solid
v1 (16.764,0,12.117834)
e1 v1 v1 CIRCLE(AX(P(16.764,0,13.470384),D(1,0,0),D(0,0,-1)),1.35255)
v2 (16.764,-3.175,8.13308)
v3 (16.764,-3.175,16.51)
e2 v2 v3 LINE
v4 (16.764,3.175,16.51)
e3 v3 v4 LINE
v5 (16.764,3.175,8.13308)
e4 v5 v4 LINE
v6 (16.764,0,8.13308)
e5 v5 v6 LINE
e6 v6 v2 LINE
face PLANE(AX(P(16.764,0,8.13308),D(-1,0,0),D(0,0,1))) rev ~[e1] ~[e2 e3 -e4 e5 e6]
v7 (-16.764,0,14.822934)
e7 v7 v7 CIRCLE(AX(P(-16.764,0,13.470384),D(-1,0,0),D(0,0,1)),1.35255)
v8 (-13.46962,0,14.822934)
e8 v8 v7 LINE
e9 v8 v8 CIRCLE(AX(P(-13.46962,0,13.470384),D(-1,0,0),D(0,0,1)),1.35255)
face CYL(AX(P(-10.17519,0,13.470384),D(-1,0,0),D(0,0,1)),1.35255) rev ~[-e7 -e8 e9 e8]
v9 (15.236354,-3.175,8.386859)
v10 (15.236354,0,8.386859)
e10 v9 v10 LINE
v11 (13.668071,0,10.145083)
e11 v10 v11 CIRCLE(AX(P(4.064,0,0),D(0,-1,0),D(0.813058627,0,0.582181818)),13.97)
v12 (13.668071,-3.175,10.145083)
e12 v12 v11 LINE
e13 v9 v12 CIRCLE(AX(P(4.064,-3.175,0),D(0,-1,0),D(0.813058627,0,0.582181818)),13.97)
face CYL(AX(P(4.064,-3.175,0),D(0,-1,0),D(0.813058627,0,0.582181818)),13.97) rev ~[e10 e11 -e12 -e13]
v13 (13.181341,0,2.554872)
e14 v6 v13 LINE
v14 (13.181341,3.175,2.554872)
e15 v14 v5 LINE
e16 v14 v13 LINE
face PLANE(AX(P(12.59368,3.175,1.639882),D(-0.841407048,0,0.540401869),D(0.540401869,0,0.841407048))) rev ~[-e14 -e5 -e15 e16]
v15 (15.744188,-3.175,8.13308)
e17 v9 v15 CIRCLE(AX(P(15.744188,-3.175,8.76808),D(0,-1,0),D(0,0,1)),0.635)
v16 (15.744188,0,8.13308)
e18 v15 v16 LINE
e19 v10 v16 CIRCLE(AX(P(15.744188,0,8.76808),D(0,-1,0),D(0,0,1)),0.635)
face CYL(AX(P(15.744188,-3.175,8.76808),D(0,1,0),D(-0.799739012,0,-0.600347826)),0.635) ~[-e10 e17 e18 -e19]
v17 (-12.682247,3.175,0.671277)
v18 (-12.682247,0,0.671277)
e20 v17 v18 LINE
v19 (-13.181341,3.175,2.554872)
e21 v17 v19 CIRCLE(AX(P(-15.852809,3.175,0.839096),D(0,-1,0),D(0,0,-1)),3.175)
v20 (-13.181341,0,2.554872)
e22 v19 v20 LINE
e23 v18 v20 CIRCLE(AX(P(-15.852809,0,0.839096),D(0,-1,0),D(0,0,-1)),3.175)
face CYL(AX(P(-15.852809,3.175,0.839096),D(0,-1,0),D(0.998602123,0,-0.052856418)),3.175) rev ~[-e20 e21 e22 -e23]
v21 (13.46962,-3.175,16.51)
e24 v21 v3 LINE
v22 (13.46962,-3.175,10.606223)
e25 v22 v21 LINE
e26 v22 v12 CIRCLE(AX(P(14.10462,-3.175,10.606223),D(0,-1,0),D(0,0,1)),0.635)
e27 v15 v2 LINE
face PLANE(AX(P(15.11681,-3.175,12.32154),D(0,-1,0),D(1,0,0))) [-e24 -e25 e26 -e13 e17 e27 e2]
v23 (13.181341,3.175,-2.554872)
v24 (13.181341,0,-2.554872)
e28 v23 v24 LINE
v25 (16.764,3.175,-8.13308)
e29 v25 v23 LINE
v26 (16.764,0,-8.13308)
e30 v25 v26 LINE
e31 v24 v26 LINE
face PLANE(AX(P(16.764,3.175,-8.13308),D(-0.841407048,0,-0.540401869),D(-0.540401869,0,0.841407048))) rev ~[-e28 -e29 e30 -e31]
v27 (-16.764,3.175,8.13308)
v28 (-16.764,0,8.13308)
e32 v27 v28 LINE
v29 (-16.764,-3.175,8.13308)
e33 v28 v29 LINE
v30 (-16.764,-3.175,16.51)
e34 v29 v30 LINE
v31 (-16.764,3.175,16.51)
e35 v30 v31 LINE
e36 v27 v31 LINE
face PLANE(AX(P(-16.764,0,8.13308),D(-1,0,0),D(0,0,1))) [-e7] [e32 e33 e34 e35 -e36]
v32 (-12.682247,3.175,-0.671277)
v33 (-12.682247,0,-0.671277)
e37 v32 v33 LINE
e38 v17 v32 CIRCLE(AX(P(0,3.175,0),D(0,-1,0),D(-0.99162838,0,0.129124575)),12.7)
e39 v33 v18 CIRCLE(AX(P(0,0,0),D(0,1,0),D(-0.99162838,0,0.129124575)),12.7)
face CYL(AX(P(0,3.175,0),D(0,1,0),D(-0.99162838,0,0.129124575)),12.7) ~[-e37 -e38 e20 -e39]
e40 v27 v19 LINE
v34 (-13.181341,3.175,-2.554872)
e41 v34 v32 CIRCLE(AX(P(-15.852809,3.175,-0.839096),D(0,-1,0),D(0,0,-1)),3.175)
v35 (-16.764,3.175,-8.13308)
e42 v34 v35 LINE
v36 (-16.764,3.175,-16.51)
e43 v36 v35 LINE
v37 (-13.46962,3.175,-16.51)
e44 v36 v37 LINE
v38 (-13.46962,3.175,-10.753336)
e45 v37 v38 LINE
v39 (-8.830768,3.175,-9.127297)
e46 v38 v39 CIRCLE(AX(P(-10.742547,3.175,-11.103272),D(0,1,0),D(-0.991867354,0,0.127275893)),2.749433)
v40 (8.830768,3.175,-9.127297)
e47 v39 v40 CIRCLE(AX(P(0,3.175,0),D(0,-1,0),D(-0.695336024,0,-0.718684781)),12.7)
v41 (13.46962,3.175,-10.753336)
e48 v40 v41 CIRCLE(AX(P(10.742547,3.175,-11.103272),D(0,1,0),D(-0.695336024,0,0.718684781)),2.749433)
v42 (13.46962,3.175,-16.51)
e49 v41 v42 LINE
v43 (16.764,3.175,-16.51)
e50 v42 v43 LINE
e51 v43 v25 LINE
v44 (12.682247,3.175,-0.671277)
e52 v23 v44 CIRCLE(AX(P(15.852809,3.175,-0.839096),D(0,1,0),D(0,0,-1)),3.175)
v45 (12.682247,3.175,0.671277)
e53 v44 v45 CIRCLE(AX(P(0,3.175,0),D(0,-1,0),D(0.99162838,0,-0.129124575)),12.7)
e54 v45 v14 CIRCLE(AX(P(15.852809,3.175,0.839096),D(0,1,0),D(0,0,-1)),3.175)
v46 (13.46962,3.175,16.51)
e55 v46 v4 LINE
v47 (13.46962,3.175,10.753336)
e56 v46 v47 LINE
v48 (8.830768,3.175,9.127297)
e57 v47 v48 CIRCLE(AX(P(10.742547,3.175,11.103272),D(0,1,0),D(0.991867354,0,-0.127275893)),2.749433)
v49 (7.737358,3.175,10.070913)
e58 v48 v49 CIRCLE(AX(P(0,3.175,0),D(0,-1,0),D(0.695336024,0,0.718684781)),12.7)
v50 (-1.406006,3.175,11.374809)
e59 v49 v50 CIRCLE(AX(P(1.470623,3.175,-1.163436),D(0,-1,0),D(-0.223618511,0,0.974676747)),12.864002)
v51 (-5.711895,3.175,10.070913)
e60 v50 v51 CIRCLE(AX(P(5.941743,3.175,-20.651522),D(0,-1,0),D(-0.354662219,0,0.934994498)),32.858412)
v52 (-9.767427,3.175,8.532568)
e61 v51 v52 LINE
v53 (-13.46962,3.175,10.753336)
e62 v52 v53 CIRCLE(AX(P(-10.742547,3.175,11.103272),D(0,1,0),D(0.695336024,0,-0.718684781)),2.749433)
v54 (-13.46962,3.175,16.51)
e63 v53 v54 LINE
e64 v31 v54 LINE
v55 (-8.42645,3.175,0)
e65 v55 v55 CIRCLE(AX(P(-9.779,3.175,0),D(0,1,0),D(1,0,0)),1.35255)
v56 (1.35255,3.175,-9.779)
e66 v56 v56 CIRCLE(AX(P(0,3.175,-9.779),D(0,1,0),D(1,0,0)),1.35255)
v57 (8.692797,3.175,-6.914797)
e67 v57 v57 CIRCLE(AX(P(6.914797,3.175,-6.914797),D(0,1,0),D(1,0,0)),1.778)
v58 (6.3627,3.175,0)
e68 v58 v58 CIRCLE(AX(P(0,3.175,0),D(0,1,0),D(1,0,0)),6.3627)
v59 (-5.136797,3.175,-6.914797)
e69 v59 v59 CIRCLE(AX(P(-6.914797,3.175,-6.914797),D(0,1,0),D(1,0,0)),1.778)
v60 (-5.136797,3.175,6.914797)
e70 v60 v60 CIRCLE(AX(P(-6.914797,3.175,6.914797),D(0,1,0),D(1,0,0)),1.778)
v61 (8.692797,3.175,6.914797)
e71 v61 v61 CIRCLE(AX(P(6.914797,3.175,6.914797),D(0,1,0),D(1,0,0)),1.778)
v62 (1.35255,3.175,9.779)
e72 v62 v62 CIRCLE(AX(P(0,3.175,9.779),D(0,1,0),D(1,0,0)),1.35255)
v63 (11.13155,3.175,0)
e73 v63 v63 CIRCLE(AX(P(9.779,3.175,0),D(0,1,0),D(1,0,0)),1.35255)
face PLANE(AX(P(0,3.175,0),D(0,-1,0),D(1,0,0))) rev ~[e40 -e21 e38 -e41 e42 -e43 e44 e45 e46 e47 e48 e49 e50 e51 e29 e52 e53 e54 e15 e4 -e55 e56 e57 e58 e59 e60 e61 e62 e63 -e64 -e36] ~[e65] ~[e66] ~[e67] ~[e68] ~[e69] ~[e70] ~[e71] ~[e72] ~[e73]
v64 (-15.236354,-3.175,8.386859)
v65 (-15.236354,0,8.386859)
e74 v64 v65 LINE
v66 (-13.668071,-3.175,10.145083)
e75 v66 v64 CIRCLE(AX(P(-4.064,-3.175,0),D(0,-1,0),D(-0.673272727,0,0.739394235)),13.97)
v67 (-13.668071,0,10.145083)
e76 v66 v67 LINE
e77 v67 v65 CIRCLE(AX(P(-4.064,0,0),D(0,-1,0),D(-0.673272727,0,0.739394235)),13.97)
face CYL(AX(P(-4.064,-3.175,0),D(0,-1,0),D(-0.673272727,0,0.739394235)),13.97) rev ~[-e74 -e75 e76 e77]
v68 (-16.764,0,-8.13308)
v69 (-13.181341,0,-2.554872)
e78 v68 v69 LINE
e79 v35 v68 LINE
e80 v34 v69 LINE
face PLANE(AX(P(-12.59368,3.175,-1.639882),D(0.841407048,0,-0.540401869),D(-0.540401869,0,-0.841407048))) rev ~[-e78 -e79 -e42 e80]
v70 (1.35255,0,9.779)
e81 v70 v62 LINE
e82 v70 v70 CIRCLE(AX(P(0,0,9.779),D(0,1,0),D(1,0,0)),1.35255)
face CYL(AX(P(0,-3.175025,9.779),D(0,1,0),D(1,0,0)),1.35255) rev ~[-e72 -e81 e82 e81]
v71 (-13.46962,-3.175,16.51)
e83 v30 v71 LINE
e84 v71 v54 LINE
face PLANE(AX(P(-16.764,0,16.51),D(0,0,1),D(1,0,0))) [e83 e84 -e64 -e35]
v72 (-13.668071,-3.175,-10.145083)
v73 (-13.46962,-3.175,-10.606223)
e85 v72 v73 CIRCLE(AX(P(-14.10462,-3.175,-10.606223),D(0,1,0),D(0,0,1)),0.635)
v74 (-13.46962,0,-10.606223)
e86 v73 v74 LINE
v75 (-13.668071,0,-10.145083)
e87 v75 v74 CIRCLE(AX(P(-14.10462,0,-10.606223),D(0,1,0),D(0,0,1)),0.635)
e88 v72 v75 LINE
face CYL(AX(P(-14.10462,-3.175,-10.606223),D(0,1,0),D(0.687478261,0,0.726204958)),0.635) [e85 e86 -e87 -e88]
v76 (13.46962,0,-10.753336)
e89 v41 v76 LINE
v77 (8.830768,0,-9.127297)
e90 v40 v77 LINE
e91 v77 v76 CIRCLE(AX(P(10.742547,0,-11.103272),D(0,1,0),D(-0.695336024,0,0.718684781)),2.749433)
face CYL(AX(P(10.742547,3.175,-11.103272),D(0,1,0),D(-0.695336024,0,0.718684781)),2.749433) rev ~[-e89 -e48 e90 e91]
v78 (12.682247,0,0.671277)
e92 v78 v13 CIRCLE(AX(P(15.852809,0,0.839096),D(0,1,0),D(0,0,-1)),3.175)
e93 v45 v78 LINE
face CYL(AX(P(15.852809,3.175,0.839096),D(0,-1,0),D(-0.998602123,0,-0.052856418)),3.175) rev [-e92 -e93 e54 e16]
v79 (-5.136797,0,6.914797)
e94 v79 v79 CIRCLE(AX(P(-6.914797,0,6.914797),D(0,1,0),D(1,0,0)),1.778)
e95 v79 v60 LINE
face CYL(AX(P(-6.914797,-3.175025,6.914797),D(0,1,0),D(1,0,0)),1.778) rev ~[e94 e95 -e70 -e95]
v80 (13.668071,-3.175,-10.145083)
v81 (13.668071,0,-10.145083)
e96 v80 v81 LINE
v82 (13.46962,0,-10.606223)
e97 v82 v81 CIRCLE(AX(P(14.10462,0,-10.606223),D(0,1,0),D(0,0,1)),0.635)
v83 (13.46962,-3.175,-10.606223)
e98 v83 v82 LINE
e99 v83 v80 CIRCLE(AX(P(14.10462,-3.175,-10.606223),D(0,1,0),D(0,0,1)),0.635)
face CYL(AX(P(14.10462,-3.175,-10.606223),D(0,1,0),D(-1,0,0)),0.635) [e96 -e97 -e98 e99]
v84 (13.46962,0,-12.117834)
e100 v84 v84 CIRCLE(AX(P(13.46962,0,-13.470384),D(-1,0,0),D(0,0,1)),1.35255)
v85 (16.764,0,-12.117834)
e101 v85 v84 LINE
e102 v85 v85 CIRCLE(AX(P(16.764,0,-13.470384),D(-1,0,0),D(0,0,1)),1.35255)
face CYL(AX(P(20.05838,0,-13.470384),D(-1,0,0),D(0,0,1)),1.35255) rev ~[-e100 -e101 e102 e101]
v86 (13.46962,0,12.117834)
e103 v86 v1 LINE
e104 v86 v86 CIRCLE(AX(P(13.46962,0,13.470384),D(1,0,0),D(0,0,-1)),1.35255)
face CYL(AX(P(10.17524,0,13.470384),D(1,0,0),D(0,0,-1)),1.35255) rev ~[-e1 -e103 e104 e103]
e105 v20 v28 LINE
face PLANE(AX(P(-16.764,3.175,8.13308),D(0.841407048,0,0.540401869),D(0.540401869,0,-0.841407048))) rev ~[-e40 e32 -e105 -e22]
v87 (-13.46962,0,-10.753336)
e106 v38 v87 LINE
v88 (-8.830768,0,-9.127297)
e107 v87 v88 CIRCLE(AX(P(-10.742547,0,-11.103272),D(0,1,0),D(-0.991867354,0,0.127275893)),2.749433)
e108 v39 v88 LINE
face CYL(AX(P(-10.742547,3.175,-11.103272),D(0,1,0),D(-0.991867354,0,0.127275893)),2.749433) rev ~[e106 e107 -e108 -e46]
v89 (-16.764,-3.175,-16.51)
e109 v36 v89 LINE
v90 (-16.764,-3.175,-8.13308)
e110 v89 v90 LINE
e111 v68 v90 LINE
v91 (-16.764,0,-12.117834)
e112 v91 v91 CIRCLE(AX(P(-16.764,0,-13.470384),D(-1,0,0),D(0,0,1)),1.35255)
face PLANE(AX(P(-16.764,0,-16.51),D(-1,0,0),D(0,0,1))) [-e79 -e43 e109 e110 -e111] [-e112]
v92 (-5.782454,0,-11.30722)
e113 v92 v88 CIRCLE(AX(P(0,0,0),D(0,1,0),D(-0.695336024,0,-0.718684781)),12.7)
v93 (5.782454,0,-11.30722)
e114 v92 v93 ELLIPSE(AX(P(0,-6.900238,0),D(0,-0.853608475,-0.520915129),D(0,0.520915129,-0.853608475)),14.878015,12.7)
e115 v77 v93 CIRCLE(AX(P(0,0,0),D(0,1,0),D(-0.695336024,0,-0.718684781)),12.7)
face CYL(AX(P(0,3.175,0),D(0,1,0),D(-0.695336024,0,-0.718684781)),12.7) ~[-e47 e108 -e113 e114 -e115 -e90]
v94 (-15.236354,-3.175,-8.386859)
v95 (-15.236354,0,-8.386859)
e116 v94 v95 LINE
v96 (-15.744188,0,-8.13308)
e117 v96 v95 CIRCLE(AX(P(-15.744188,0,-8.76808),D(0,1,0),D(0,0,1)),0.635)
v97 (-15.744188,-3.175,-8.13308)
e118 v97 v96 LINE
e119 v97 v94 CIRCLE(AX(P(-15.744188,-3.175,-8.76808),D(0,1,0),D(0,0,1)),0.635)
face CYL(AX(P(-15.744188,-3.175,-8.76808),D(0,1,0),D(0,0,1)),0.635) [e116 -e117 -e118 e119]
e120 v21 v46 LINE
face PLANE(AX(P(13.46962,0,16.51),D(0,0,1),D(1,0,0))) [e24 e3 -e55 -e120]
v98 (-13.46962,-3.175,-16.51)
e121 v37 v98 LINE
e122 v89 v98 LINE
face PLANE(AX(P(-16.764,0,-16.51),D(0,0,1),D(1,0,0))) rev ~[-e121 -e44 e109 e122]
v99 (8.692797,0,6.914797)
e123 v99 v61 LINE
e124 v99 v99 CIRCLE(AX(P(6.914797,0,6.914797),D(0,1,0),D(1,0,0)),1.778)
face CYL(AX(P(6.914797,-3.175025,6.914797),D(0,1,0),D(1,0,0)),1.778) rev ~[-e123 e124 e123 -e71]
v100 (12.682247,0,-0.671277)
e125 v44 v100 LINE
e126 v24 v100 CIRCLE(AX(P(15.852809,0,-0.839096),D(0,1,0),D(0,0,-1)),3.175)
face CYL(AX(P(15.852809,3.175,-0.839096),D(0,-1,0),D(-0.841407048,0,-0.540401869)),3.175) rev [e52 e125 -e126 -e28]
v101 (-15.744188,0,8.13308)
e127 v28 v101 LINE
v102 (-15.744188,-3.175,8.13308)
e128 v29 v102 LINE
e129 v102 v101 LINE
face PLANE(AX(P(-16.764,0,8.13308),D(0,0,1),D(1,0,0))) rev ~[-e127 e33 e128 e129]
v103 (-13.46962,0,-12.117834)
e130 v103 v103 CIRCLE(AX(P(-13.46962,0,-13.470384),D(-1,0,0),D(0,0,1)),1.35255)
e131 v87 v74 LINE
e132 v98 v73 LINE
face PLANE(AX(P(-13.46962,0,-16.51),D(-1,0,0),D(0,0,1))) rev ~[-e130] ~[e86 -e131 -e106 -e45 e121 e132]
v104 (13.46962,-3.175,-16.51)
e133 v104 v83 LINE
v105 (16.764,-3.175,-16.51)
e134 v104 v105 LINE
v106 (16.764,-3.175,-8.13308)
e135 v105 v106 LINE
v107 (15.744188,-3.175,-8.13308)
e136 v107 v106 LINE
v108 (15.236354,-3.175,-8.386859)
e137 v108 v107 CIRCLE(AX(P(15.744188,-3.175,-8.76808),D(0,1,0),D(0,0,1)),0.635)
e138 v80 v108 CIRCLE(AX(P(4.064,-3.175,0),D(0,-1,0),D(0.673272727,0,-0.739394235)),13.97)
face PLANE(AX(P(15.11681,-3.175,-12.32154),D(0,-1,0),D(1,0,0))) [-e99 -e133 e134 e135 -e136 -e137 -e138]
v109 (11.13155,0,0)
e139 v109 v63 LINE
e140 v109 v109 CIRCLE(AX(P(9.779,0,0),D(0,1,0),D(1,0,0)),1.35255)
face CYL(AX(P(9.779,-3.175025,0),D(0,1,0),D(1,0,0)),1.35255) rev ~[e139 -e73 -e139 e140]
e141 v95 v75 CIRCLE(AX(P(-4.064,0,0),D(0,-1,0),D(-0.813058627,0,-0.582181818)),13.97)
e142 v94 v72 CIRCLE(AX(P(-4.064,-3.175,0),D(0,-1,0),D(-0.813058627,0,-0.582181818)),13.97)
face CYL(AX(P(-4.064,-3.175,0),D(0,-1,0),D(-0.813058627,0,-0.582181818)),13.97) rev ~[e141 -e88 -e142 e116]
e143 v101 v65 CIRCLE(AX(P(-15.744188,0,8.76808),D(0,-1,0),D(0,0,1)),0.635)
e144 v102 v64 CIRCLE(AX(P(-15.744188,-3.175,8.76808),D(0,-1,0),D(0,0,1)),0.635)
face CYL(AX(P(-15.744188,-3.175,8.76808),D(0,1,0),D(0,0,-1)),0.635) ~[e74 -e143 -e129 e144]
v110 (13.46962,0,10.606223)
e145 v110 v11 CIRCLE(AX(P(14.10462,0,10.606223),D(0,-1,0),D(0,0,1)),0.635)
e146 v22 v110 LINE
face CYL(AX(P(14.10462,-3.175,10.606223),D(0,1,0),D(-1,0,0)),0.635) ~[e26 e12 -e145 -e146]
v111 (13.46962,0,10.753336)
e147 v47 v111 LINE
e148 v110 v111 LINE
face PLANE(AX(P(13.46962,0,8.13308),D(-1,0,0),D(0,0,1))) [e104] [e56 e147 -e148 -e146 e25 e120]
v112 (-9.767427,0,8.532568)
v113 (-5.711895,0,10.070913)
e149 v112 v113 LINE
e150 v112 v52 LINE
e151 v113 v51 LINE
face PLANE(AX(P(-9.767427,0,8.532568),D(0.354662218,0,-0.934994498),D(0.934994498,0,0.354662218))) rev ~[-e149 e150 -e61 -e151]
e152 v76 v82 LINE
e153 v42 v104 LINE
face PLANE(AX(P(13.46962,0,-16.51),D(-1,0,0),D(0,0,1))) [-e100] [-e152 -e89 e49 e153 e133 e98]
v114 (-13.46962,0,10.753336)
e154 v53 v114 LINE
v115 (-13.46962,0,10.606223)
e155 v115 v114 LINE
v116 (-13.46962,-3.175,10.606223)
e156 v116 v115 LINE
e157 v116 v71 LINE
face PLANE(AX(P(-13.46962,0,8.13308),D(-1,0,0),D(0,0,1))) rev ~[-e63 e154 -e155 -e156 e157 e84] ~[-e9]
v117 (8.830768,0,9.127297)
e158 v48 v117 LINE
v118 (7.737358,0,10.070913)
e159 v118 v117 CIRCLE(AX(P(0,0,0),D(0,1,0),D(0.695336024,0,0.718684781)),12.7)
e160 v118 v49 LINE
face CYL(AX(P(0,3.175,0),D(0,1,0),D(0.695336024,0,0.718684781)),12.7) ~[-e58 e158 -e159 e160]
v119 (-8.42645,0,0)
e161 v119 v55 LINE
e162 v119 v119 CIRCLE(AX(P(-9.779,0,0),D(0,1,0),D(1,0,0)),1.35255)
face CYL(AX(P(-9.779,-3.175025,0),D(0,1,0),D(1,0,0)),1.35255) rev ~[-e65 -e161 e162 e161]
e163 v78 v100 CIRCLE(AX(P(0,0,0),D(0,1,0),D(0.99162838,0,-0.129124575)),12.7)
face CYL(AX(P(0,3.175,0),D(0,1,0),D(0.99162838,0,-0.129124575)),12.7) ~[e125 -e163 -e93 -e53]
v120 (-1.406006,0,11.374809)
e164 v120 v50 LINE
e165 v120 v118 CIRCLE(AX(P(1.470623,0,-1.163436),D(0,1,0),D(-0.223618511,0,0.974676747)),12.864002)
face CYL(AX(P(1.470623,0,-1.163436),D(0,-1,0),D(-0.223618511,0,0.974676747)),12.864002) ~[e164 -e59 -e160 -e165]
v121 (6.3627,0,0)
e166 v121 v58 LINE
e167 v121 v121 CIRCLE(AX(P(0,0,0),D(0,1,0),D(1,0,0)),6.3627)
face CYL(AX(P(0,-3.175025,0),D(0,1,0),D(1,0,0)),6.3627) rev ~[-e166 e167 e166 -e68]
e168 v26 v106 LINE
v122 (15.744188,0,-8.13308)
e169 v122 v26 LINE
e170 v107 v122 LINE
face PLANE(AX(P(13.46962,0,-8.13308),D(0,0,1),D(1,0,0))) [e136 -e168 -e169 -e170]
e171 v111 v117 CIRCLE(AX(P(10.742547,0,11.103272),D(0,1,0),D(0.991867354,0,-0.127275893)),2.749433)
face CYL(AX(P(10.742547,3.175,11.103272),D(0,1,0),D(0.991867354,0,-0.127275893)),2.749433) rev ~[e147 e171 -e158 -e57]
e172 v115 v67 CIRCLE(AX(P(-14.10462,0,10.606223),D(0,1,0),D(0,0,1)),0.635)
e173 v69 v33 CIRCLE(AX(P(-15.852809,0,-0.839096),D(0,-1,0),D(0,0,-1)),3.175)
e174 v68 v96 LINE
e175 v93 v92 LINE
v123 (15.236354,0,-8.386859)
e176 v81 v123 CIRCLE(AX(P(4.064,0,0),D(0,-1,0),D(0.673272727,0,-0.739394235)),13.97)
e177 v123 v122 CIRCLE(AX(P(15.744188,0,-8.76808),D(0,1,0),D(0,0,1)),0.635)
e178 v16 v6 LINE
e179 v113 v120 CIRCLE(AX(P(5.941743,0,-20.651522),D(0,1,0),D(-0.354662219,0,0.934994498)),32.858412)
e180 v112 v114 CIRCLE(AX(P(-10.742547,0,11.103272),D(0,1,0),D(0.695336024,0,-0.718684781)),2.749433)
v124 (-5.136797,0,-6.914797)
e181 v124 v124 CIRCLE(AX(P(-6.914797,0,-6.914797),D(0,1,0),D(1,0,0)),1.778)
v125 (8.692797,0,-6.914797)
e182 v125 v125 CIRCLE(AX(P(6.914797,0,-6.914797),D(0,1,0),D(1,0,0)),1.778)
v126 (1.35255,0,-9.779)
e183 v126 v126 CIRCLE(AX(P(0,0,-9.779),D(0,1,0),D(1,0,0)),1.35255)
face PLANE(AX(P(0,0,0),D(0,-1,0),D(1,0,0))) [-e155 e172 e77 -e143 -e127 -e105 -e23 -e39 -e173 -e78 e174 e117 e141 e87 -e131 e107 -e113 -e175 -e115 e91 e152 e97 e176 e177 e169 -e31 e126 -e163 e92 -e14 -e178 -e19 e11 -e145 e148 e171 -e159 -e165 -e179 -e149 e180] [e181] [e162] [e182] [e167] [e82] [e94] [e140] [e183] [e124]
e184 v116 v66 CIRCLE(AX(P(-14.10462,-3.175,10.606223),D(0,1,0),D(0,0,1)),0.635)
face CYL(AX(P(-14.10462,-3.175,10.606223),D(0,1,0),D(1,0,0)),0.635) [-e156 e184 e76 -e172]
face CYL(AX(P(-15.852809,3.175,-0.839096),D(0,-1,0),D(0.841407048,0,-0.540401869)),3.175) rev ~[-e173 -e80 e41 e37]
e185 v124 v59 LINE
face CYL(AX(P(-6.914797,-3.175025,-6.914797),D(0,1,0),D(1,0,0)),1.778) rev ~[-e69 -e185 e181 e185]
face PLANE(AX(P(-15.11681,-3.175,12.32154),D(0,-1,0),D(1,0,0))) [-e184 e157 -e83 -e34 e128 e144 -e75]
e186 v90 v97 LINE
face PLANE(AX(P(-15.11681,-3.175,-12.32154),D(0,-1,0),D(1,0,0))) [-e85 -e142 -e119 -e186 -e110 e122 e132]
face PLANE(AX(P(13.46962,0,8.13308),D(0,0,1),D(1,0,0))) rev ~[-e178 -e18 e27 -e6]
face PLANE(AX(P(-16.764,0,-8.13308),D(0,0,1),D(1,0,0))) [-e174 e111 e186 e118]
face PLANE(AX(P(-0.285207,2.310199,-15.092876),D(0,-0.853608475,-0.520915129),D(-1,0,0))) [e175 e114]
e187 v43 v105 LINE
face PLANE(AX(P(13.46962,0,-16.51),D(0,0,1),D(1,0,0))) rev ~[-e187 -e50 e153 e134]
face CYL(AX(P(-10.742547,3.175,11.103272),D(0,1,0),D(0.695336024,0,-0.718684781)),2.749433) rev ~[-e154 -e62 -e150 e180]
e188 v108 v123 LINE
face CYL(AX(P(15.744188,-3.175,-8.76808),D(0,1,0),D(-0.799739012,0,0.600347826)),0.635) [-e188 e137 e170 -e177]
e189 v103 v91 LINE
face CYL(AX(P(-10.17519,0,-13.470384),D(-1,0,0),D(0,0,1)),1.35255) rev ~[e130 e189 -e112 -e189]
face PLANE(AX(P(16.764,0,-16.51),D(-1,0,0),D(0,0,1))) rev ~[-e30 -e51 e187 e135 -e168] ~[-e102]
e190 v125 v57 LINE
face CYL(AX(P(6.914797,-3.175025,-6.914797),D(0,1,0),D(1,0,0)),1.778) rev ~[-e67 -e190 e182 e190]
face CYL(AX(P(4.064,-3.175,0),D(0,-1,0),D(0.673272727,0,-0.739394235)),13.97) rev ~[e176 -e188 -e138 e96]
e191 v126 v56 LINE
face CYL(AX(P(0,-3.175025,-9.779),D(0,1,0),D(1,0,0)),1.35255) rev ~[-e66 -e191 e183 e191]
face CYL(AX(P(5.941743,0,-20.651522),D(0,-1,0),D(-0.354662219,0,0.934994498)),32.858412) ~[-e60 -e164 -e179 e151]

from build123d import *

# Parameters (mm, degrees)
SKETCH1_W                  = 33.528
SKETCH1_H                  = 33.02
BOSS_EXTRUDE1_DEPTH        = 3.175
CUT_EXTRUDE1_DEPTH         = 4.175
SKETCH3_W                  = 3.29438
SKETCH3_H                  = 8.37692
BOSS_EXTRUDE2_DEPTH        = 3.175
CUT_EXTRUDE2_DEPTH         = 7.35
SKETCH5_W                  = 3.29438
SKETCH5_H                  = 8.37692
BOSS_EXTRUDE3_DEPTH        = 3.175
CUT_EXTRUDE3_DEPTH         = 7.35
SKETCH7_W                  = 3.29438
SKETCH7_H                  = 8.37692
BOSS_EXTRUDE4_DEPTH        = 3.175
CUT_EXTRUDE4_DEPTH         = 7.35
SKETCH9_W                  = 3.29438
SKETCH9_H                  = 8.37692
BOSS_EXTRUDE5_DEPTH        = 3.175
CUT_EXTRUDE5_DEPTH         = 3.175
CUT_EXTRUDE6_DEPTH         = 3.175
CUT_EXTRUDE7_DEPTH         = 3.175
CUT_EXTRUDE8_DEPTH         = 3.175
HOLE1_D                    = 12.7254
HOLE1_DEPTH                = 3.175025
M2_5_CLEARANCE_HOLE1_D     = 2.7051
M2_5_CLEARANCE_HOLE1_DEPTH = 3.175025
M3_CLEARANCE_HOLE1_D       = 3.556
M3_CLEARANCE_HOLE1_DEPTH   = 3.175025
M2_5_CLEARANCE_HOLE2_D     = 2.7051
M2_5_CLEARANCE_HOLE2_DEPTH = 3.29438
M2_5_CLEARANCE_HOLE3_D     = 2.7051
M2_5_CLEARANCE_HOLE3_DEPTH = 3.29438
M2_5_CLEARANCE_HOLE4_D     = 2.7051
M2_5_CLEARANCE_HOLE4_DEPTH = 3.29443
FILLET1_R                  = 0.635
FILLET2_R                  = 3.175
CUT_EXTRUDE9_REACH         = 5.175
CUT_EXTRUDE12_REACH        = 7.42
SKETCH30_W                 = 14.449204344
SKETCH30_H                 = 9.791237154


with BuildPart() as part:
    # Sketch1 → Boss-Extrude1 (new body)
    with BuildSketch(Plane.XZ):
        Rectangle(SKETCH1_W, SKETCH1_H)
    extrude(amount=-BOSS_EXTRUDE1_DEPTH)

    # Sketch2 → Cut-Extrude1 (cut, through all)
    with BuildSketch(Plane(origin=(0, 3.175, 0), x_dir=(-1, 0, 0), z_dir=(0, 1, 0))):
        with BuildLine():
            Line((-13.46962, 16.51), (-13.46962, 10.753335779))
            ThreePointArc((-13.46962, 10.753335779), (-11.652039651, 8.508623021), (-8.8307675, 9.127296717))
            ThreePointArc((-8.8307675, 9.127296717), (0, 12.7), (8.8307675, 9.127296717))
            ThreePointArc((8.8307675, 9.127296717), (11.652039651, 8.508623021), (13.46962, 10.753335779))
            Line((13.46962, 10.753335779), (13.46962, 16.51))
            Line((13.46962, 16.51), (-13.46962, 16.51))
        make_face()
    extrude(amount=-CUT_EXTRUDE1_DEPTH, mode=Mode.SUBTRACT)

    # Sketch3 → Boss-Extrude2 (add)
    with BuildSketch(Plane.XZ):
        with Locations((-15.11681, 12.32154)):
            Rectangle(SKETCH3_W, SKETCH3_H)
    extrude(amount=BOSS_EXTRUDE2_DEPTH)

    # Sketch4 → Cut-Extrude2 (cut, through all)
    with BuildSketch(Plane(origin=(0, 3.175, 0), x_dir=(-1, 0, 0), z_dir=(0, 1, 0))):
        with BuildLine():
            Line((-16.764, 8.13308), (-16.764, -8.13308))
            Line((-16.764, -8.13308), (-12.593680427, -1.639882101))
            ThreePointArc((-12.593680427, -1.639882101), (-12.7, 0), (-12.593680427, 1.639882101))
            Line((-12.593680427, 1.639882101), (-16.764, 8.13308))
        make_face()
    extrude(amount=-CUT_EXTRUDE2_DEPTH, mode=Mode.SUBTRACT)

    # Sketch5 → Boss-Extrude3 (add)
    with BuildSketch(Plane.XZ):
        with Locations((15.11681, 12.32154)):
            Rectangle(SKETCH5_W, SKETCH5_H)
    extrude(amount=BOSS_EXTRUDE3_DEPTH)

    # Sketch6 → Cut-Extrude3 (cut, through all)
    with BuildSketch(Plane(origin=(0, 3.175, 0), x_dir=(-1, 0, 0), z_dir=(0, 1, 0))):
        with BuildLine():
            Line((13.46962, -16.51), (13.46962, -10.753335779))
            ThreePointArc((13.46962, -10.753335779), (11.652039651, -8.508623021), (8.8307675, -9.127296717))
            ThreePointArc((8.8307675, -9.127296717), (0, -12.7), (-8.8307675, -9.127296717))
            ThreePointArc((-8.8307675, -9.127296717), (-11.652039651, -8.508623021), (-13.46962, -10.753335779))
            Line((-13.46962, -10.753335779), (-13.46962, -16.51))
            Line((-13.46962, -16.51), (13.46962, -16.51))
        make_face()
    extrude(amount=-CUT_EXTRUDE3_DEPTH, mode=Mode.SUBTRACT)

    # Sketch7 → Boss-Extrude4 (add)
    with BuildSketch(Plane.XZ):
        with Locations((15.11681, -12.32154)):
            Rectangle(SKETCH7_W, SKETCH7_H)
    extrude(amount=BOSS_EXTRUDE4_DEPTH)

    # Sketch8 → Cut-Extrude4 (cut, through all)
    with BuildSketch(Plane(origin=(0, 3.175, 0), x_dir=(-1, 0, 0), z_dir=(0, 1, 0))):
        with BuildLine():
            Line((16.764, -8.13308), (16.764, 8.13308))
            Line((16.764, 8.13308), (12.593680427, 1.639882101))
            ThreePointArc((12.593680427, 1.639882101), (12.7, 0), (12.593680427, -1.639882101))
            Line((12.593680427, -1.639882101), (16.764, -8.13308))
        make_face()
    extrude(amount=-CUT_EXTRUDE4_DEPTH, mode=Mode.SUBTRACT)

    # Sketch9 → Boss-Extrude5 (add)
    with BuildSketch(Plane.XZ):
        with Locations((-15.11681, -12.32154)):
            Rectangle(SKETCH9_W, SKETCH9_H)
    extrude(amount=BOSS_EXTRUDE5_DEPTH)

    # Sketch10 → Cut-Extrude5 (cut)
    with BuildSketch(Plane.XZ.offset(3.175)):
        with BuildLine():
            Line((15.422429016, -8.13308), (13.46962, -8.13308))
            Line((13.46962, -8.13308), (13.46962, -10.329337463))
            ThreePointArc((13.46962, -10.329337463), (14.503938678, -9.282703292), (15.422429016, -8.13308))
        make_face()
    extrude(amount=-CUT_EXTRUDE5_DEPTH, mode=Mode.SUBTRACT)

    # Sketch11 → Cut-Extrude6 (cut)
    with BuildSketch(Plane.XZ.offset(3.175)):
        with BuildLine():
            Line((13.46962, 10.329337463), (13.46962, 8.13308))
            Line((13.46962, 8.13308), (15.422429016, 8.13308))
            ThreePointArc((15.422429016, 8.13308), (14.503938678, 9.282703292), (13.46962, 10.329337463))
        make_face()
    extrude(amount=-CUT_EXTRUDE6_DEPTH, mode=Mode.SUBTRACT)

    # Sketch12 → Cut-Extrude7 (cut)
    with BuildSketch(Plane.XZ.offset(3.175)):
        with BuildLine():
            Line((-15.422429016, 8.13308), (-13.46962, 8.13308))
            Line((-13.46962, 8.13308), (-13.46962, 10.329337463))
            ThreePointArc((-13.46962, 10.329337463), (-14.503938678, 9.282703292), (-15.422429016, 8.13308))
        make_face()
    extrude(amount=-CUT_EXTRUDE7_DEPTH, mode=Mode.SUBTRACT)

    # Sketch13 → Cut-Extrude8 (cut)
    with BuildSketch(Plane.XZ.offset(3.175)):
        with BuildLine():
            Line((-13.46962, -10.329337463), (-13.46962, -8.13308))
            Line((-13.46962, -8.13308), (-15.422429016, -8.13308))
            ThreePointArc((-15.422429016, -8.13308), (-14.503938678, -9.282703292), (-13.46962, -10.329337463))
        make_face()
    extrude(amount=-CUT_EXTRUDE8_DEPTH, mode=Mode.SUBTRACT)

    # Hole1
    with Locations(Plane(origin=(0, 0, 0), x_dir=(-1, 0, 0), z_dir=(0, -1, 0))):
        with Locations((0, 0)):
            Hole(HOLE1_D / 2, depth=HOLE1_DEPTH)

    # M2.5 Clearance Hole1
    with Locations(Plane(origin=(0, 0, 0), x_dir=(-1, 0, 0), z_dir=(0, -1, 0))):
        with Locations((0, -9.779), (9.779, 0), (0, 9.779), (-9.779, 0)):
            Hole(M2_5_CLEARANCE_HOLE1_D / 2, depth=M2_5_CLEARANCE_HOLE1_DEPTH)

    # M3 Clearance Hole1
    with Locations(Plane(origin=(0, 0, 0), x_dir=(-1, 0, 0), z_dir=(0, -1, 0))):
        with Locations((6.914797213, -6.914797213), (6.914797213, 6.914797213), (-6.914797213, 6.914797213), (-6.914797213, -6.914797213)):
            Hole(M3_CLEARANCE_HOLE1_D / 2, depth=M3_CLEARANCE_HOLE1_DEPTH)

    # M2.5 Clearance Hole2
    with Locations(Plane(origin=(16.764, 0, 0), x_dir=(0, 0, -1), z_dir=(1, 0, 0))):
        with Locations((13.470384182, 0)):
            Hole(M2_5_CLEARANCE_HOLE2_D / 2, depth=M2_5_CLEARANCE_HOLE2_DEPTH)

    # M2.5 Clearance Hole3
    with Locations(Plane.ZY.offset(-13.46962)):
        with Locations((13.470384182, 0)):
            Hole(M2_5_CLEARANCE_HOLE3_D / 2, depth=M2_5_CLEARANCE_HOLE3_DEPTH)

    # M2.5 Clearance Hole4
    with Locations(Plane(origin=(-13.46962, 0, 0), x_dir=(0, 0, -1), z_dir=(1, 0, 0))):
        with Locations((-13.470384182, 0), (13.470384182, 0)):
            Hole(M2_5_CLEARANCE_HOLE4_D / 2, depth=M2_5_CLEARANCE_HOLE4_DEPTH)

    # Fillet1
    fillet1_edges = [part.edges().sort_by_distance(p)[0] for p in [
        (-13.46962, -1.5875, -10.329337463),
        (-15.422429016, -1.5875, 8.13308),
        (15.422429016, -1.5875, -8.13308),
        (15.422429016, -1.5875, 8.13308),
        (13.46962, -1.5875, -10.329337463),
        (-13.46962, -1.5875, 10.329337463),
        (-15.422429016, -1.5875, -8.13308),
        (13.46962, -1.5875, 10.329337463),
    ]]
    fillet(fillet1_edges, radius=FILLET1_R)

    # Fillet2
    fillet2_edges = [part.edges().sort_by_distance(p)[0] for p in [
        (-12.593680427, 1.5875, -1.639882101),
        (12.593680427, 1.5875, -1.639882101),
        (-12.593680427, 1.5875, 1.639882101),
        (12.593680427, 1.5875, 1.639882101),
    ]]
    fillet(fillet2_edges, radius=FILLET2_R)

    # Sketch26 → Cut-Extrude9 (cut, up to next)
    with BuildSketch(Plane.XZ, mode=Mode.PRIVATE) as cut_extrude9_sk1:
        with BuildLine():
            Line((-9.767427274, 8.532567661), (-5.711894532, 10.070912798))
            ThreePointArc((-5.711894532, 10.070912798), (-3.581292847, 10.796642581), (-1.406006336, 11.374808519))
            ThreePointArc((-1.406006336, 11.374808519), (3.286728936, 11.571725124), (7.737358426, 10.070912798))
            ThreePointArc((7.737358426, 10.070912798), (-0.72214173, 12.679452327), (-8.8307675, 9.127296717))
            ThreePointArc((-8.8307675, 9.127296717), (-9.268785679, 8.78219321), (-9.767427274, 8.532567661))
        make_face()
    cut_extrude9_tool1 = extrude(cut_extrude9_sk1.sketch, amount=-CUT_EXTRUDE9_REACH, mode=Mode.PRIVATE) & part.part
    add(cut_extrude9_tool1.solids().sort_by_distance((-1.945542, 0, 11.38762))[0], mode=Mode.SUBTRACT)

    # Sketch30 → Cut-Extrude12 (cut, up to next)
    with BuildSketch(Plane(origin=(0, -5.02784088, -3.068243182), x_dir=(-1, 0, 0), z_dir=(0, -0.853608475, -0.520915129)), mode=Mode.PRIVATE) as cut_extrude12_sk1:
        with Locations((0.285206665, 14.086824926)):
            Rectangle(SKETCH30_W, SKETCH30_H)
    cut_extrude12_tool1 = extrude(cut_extrude12_sk1.sketch, amount=CUT_EXTRUDE12_REACH, mode=Mode.PRIVATE) & part.part
    add(cut_extrude12_tool1.solids().sort_by_distance((-0.285207, 2.310199, -15.092876))[0], mode=Mode.SUBTRACT)


solid = part.part
